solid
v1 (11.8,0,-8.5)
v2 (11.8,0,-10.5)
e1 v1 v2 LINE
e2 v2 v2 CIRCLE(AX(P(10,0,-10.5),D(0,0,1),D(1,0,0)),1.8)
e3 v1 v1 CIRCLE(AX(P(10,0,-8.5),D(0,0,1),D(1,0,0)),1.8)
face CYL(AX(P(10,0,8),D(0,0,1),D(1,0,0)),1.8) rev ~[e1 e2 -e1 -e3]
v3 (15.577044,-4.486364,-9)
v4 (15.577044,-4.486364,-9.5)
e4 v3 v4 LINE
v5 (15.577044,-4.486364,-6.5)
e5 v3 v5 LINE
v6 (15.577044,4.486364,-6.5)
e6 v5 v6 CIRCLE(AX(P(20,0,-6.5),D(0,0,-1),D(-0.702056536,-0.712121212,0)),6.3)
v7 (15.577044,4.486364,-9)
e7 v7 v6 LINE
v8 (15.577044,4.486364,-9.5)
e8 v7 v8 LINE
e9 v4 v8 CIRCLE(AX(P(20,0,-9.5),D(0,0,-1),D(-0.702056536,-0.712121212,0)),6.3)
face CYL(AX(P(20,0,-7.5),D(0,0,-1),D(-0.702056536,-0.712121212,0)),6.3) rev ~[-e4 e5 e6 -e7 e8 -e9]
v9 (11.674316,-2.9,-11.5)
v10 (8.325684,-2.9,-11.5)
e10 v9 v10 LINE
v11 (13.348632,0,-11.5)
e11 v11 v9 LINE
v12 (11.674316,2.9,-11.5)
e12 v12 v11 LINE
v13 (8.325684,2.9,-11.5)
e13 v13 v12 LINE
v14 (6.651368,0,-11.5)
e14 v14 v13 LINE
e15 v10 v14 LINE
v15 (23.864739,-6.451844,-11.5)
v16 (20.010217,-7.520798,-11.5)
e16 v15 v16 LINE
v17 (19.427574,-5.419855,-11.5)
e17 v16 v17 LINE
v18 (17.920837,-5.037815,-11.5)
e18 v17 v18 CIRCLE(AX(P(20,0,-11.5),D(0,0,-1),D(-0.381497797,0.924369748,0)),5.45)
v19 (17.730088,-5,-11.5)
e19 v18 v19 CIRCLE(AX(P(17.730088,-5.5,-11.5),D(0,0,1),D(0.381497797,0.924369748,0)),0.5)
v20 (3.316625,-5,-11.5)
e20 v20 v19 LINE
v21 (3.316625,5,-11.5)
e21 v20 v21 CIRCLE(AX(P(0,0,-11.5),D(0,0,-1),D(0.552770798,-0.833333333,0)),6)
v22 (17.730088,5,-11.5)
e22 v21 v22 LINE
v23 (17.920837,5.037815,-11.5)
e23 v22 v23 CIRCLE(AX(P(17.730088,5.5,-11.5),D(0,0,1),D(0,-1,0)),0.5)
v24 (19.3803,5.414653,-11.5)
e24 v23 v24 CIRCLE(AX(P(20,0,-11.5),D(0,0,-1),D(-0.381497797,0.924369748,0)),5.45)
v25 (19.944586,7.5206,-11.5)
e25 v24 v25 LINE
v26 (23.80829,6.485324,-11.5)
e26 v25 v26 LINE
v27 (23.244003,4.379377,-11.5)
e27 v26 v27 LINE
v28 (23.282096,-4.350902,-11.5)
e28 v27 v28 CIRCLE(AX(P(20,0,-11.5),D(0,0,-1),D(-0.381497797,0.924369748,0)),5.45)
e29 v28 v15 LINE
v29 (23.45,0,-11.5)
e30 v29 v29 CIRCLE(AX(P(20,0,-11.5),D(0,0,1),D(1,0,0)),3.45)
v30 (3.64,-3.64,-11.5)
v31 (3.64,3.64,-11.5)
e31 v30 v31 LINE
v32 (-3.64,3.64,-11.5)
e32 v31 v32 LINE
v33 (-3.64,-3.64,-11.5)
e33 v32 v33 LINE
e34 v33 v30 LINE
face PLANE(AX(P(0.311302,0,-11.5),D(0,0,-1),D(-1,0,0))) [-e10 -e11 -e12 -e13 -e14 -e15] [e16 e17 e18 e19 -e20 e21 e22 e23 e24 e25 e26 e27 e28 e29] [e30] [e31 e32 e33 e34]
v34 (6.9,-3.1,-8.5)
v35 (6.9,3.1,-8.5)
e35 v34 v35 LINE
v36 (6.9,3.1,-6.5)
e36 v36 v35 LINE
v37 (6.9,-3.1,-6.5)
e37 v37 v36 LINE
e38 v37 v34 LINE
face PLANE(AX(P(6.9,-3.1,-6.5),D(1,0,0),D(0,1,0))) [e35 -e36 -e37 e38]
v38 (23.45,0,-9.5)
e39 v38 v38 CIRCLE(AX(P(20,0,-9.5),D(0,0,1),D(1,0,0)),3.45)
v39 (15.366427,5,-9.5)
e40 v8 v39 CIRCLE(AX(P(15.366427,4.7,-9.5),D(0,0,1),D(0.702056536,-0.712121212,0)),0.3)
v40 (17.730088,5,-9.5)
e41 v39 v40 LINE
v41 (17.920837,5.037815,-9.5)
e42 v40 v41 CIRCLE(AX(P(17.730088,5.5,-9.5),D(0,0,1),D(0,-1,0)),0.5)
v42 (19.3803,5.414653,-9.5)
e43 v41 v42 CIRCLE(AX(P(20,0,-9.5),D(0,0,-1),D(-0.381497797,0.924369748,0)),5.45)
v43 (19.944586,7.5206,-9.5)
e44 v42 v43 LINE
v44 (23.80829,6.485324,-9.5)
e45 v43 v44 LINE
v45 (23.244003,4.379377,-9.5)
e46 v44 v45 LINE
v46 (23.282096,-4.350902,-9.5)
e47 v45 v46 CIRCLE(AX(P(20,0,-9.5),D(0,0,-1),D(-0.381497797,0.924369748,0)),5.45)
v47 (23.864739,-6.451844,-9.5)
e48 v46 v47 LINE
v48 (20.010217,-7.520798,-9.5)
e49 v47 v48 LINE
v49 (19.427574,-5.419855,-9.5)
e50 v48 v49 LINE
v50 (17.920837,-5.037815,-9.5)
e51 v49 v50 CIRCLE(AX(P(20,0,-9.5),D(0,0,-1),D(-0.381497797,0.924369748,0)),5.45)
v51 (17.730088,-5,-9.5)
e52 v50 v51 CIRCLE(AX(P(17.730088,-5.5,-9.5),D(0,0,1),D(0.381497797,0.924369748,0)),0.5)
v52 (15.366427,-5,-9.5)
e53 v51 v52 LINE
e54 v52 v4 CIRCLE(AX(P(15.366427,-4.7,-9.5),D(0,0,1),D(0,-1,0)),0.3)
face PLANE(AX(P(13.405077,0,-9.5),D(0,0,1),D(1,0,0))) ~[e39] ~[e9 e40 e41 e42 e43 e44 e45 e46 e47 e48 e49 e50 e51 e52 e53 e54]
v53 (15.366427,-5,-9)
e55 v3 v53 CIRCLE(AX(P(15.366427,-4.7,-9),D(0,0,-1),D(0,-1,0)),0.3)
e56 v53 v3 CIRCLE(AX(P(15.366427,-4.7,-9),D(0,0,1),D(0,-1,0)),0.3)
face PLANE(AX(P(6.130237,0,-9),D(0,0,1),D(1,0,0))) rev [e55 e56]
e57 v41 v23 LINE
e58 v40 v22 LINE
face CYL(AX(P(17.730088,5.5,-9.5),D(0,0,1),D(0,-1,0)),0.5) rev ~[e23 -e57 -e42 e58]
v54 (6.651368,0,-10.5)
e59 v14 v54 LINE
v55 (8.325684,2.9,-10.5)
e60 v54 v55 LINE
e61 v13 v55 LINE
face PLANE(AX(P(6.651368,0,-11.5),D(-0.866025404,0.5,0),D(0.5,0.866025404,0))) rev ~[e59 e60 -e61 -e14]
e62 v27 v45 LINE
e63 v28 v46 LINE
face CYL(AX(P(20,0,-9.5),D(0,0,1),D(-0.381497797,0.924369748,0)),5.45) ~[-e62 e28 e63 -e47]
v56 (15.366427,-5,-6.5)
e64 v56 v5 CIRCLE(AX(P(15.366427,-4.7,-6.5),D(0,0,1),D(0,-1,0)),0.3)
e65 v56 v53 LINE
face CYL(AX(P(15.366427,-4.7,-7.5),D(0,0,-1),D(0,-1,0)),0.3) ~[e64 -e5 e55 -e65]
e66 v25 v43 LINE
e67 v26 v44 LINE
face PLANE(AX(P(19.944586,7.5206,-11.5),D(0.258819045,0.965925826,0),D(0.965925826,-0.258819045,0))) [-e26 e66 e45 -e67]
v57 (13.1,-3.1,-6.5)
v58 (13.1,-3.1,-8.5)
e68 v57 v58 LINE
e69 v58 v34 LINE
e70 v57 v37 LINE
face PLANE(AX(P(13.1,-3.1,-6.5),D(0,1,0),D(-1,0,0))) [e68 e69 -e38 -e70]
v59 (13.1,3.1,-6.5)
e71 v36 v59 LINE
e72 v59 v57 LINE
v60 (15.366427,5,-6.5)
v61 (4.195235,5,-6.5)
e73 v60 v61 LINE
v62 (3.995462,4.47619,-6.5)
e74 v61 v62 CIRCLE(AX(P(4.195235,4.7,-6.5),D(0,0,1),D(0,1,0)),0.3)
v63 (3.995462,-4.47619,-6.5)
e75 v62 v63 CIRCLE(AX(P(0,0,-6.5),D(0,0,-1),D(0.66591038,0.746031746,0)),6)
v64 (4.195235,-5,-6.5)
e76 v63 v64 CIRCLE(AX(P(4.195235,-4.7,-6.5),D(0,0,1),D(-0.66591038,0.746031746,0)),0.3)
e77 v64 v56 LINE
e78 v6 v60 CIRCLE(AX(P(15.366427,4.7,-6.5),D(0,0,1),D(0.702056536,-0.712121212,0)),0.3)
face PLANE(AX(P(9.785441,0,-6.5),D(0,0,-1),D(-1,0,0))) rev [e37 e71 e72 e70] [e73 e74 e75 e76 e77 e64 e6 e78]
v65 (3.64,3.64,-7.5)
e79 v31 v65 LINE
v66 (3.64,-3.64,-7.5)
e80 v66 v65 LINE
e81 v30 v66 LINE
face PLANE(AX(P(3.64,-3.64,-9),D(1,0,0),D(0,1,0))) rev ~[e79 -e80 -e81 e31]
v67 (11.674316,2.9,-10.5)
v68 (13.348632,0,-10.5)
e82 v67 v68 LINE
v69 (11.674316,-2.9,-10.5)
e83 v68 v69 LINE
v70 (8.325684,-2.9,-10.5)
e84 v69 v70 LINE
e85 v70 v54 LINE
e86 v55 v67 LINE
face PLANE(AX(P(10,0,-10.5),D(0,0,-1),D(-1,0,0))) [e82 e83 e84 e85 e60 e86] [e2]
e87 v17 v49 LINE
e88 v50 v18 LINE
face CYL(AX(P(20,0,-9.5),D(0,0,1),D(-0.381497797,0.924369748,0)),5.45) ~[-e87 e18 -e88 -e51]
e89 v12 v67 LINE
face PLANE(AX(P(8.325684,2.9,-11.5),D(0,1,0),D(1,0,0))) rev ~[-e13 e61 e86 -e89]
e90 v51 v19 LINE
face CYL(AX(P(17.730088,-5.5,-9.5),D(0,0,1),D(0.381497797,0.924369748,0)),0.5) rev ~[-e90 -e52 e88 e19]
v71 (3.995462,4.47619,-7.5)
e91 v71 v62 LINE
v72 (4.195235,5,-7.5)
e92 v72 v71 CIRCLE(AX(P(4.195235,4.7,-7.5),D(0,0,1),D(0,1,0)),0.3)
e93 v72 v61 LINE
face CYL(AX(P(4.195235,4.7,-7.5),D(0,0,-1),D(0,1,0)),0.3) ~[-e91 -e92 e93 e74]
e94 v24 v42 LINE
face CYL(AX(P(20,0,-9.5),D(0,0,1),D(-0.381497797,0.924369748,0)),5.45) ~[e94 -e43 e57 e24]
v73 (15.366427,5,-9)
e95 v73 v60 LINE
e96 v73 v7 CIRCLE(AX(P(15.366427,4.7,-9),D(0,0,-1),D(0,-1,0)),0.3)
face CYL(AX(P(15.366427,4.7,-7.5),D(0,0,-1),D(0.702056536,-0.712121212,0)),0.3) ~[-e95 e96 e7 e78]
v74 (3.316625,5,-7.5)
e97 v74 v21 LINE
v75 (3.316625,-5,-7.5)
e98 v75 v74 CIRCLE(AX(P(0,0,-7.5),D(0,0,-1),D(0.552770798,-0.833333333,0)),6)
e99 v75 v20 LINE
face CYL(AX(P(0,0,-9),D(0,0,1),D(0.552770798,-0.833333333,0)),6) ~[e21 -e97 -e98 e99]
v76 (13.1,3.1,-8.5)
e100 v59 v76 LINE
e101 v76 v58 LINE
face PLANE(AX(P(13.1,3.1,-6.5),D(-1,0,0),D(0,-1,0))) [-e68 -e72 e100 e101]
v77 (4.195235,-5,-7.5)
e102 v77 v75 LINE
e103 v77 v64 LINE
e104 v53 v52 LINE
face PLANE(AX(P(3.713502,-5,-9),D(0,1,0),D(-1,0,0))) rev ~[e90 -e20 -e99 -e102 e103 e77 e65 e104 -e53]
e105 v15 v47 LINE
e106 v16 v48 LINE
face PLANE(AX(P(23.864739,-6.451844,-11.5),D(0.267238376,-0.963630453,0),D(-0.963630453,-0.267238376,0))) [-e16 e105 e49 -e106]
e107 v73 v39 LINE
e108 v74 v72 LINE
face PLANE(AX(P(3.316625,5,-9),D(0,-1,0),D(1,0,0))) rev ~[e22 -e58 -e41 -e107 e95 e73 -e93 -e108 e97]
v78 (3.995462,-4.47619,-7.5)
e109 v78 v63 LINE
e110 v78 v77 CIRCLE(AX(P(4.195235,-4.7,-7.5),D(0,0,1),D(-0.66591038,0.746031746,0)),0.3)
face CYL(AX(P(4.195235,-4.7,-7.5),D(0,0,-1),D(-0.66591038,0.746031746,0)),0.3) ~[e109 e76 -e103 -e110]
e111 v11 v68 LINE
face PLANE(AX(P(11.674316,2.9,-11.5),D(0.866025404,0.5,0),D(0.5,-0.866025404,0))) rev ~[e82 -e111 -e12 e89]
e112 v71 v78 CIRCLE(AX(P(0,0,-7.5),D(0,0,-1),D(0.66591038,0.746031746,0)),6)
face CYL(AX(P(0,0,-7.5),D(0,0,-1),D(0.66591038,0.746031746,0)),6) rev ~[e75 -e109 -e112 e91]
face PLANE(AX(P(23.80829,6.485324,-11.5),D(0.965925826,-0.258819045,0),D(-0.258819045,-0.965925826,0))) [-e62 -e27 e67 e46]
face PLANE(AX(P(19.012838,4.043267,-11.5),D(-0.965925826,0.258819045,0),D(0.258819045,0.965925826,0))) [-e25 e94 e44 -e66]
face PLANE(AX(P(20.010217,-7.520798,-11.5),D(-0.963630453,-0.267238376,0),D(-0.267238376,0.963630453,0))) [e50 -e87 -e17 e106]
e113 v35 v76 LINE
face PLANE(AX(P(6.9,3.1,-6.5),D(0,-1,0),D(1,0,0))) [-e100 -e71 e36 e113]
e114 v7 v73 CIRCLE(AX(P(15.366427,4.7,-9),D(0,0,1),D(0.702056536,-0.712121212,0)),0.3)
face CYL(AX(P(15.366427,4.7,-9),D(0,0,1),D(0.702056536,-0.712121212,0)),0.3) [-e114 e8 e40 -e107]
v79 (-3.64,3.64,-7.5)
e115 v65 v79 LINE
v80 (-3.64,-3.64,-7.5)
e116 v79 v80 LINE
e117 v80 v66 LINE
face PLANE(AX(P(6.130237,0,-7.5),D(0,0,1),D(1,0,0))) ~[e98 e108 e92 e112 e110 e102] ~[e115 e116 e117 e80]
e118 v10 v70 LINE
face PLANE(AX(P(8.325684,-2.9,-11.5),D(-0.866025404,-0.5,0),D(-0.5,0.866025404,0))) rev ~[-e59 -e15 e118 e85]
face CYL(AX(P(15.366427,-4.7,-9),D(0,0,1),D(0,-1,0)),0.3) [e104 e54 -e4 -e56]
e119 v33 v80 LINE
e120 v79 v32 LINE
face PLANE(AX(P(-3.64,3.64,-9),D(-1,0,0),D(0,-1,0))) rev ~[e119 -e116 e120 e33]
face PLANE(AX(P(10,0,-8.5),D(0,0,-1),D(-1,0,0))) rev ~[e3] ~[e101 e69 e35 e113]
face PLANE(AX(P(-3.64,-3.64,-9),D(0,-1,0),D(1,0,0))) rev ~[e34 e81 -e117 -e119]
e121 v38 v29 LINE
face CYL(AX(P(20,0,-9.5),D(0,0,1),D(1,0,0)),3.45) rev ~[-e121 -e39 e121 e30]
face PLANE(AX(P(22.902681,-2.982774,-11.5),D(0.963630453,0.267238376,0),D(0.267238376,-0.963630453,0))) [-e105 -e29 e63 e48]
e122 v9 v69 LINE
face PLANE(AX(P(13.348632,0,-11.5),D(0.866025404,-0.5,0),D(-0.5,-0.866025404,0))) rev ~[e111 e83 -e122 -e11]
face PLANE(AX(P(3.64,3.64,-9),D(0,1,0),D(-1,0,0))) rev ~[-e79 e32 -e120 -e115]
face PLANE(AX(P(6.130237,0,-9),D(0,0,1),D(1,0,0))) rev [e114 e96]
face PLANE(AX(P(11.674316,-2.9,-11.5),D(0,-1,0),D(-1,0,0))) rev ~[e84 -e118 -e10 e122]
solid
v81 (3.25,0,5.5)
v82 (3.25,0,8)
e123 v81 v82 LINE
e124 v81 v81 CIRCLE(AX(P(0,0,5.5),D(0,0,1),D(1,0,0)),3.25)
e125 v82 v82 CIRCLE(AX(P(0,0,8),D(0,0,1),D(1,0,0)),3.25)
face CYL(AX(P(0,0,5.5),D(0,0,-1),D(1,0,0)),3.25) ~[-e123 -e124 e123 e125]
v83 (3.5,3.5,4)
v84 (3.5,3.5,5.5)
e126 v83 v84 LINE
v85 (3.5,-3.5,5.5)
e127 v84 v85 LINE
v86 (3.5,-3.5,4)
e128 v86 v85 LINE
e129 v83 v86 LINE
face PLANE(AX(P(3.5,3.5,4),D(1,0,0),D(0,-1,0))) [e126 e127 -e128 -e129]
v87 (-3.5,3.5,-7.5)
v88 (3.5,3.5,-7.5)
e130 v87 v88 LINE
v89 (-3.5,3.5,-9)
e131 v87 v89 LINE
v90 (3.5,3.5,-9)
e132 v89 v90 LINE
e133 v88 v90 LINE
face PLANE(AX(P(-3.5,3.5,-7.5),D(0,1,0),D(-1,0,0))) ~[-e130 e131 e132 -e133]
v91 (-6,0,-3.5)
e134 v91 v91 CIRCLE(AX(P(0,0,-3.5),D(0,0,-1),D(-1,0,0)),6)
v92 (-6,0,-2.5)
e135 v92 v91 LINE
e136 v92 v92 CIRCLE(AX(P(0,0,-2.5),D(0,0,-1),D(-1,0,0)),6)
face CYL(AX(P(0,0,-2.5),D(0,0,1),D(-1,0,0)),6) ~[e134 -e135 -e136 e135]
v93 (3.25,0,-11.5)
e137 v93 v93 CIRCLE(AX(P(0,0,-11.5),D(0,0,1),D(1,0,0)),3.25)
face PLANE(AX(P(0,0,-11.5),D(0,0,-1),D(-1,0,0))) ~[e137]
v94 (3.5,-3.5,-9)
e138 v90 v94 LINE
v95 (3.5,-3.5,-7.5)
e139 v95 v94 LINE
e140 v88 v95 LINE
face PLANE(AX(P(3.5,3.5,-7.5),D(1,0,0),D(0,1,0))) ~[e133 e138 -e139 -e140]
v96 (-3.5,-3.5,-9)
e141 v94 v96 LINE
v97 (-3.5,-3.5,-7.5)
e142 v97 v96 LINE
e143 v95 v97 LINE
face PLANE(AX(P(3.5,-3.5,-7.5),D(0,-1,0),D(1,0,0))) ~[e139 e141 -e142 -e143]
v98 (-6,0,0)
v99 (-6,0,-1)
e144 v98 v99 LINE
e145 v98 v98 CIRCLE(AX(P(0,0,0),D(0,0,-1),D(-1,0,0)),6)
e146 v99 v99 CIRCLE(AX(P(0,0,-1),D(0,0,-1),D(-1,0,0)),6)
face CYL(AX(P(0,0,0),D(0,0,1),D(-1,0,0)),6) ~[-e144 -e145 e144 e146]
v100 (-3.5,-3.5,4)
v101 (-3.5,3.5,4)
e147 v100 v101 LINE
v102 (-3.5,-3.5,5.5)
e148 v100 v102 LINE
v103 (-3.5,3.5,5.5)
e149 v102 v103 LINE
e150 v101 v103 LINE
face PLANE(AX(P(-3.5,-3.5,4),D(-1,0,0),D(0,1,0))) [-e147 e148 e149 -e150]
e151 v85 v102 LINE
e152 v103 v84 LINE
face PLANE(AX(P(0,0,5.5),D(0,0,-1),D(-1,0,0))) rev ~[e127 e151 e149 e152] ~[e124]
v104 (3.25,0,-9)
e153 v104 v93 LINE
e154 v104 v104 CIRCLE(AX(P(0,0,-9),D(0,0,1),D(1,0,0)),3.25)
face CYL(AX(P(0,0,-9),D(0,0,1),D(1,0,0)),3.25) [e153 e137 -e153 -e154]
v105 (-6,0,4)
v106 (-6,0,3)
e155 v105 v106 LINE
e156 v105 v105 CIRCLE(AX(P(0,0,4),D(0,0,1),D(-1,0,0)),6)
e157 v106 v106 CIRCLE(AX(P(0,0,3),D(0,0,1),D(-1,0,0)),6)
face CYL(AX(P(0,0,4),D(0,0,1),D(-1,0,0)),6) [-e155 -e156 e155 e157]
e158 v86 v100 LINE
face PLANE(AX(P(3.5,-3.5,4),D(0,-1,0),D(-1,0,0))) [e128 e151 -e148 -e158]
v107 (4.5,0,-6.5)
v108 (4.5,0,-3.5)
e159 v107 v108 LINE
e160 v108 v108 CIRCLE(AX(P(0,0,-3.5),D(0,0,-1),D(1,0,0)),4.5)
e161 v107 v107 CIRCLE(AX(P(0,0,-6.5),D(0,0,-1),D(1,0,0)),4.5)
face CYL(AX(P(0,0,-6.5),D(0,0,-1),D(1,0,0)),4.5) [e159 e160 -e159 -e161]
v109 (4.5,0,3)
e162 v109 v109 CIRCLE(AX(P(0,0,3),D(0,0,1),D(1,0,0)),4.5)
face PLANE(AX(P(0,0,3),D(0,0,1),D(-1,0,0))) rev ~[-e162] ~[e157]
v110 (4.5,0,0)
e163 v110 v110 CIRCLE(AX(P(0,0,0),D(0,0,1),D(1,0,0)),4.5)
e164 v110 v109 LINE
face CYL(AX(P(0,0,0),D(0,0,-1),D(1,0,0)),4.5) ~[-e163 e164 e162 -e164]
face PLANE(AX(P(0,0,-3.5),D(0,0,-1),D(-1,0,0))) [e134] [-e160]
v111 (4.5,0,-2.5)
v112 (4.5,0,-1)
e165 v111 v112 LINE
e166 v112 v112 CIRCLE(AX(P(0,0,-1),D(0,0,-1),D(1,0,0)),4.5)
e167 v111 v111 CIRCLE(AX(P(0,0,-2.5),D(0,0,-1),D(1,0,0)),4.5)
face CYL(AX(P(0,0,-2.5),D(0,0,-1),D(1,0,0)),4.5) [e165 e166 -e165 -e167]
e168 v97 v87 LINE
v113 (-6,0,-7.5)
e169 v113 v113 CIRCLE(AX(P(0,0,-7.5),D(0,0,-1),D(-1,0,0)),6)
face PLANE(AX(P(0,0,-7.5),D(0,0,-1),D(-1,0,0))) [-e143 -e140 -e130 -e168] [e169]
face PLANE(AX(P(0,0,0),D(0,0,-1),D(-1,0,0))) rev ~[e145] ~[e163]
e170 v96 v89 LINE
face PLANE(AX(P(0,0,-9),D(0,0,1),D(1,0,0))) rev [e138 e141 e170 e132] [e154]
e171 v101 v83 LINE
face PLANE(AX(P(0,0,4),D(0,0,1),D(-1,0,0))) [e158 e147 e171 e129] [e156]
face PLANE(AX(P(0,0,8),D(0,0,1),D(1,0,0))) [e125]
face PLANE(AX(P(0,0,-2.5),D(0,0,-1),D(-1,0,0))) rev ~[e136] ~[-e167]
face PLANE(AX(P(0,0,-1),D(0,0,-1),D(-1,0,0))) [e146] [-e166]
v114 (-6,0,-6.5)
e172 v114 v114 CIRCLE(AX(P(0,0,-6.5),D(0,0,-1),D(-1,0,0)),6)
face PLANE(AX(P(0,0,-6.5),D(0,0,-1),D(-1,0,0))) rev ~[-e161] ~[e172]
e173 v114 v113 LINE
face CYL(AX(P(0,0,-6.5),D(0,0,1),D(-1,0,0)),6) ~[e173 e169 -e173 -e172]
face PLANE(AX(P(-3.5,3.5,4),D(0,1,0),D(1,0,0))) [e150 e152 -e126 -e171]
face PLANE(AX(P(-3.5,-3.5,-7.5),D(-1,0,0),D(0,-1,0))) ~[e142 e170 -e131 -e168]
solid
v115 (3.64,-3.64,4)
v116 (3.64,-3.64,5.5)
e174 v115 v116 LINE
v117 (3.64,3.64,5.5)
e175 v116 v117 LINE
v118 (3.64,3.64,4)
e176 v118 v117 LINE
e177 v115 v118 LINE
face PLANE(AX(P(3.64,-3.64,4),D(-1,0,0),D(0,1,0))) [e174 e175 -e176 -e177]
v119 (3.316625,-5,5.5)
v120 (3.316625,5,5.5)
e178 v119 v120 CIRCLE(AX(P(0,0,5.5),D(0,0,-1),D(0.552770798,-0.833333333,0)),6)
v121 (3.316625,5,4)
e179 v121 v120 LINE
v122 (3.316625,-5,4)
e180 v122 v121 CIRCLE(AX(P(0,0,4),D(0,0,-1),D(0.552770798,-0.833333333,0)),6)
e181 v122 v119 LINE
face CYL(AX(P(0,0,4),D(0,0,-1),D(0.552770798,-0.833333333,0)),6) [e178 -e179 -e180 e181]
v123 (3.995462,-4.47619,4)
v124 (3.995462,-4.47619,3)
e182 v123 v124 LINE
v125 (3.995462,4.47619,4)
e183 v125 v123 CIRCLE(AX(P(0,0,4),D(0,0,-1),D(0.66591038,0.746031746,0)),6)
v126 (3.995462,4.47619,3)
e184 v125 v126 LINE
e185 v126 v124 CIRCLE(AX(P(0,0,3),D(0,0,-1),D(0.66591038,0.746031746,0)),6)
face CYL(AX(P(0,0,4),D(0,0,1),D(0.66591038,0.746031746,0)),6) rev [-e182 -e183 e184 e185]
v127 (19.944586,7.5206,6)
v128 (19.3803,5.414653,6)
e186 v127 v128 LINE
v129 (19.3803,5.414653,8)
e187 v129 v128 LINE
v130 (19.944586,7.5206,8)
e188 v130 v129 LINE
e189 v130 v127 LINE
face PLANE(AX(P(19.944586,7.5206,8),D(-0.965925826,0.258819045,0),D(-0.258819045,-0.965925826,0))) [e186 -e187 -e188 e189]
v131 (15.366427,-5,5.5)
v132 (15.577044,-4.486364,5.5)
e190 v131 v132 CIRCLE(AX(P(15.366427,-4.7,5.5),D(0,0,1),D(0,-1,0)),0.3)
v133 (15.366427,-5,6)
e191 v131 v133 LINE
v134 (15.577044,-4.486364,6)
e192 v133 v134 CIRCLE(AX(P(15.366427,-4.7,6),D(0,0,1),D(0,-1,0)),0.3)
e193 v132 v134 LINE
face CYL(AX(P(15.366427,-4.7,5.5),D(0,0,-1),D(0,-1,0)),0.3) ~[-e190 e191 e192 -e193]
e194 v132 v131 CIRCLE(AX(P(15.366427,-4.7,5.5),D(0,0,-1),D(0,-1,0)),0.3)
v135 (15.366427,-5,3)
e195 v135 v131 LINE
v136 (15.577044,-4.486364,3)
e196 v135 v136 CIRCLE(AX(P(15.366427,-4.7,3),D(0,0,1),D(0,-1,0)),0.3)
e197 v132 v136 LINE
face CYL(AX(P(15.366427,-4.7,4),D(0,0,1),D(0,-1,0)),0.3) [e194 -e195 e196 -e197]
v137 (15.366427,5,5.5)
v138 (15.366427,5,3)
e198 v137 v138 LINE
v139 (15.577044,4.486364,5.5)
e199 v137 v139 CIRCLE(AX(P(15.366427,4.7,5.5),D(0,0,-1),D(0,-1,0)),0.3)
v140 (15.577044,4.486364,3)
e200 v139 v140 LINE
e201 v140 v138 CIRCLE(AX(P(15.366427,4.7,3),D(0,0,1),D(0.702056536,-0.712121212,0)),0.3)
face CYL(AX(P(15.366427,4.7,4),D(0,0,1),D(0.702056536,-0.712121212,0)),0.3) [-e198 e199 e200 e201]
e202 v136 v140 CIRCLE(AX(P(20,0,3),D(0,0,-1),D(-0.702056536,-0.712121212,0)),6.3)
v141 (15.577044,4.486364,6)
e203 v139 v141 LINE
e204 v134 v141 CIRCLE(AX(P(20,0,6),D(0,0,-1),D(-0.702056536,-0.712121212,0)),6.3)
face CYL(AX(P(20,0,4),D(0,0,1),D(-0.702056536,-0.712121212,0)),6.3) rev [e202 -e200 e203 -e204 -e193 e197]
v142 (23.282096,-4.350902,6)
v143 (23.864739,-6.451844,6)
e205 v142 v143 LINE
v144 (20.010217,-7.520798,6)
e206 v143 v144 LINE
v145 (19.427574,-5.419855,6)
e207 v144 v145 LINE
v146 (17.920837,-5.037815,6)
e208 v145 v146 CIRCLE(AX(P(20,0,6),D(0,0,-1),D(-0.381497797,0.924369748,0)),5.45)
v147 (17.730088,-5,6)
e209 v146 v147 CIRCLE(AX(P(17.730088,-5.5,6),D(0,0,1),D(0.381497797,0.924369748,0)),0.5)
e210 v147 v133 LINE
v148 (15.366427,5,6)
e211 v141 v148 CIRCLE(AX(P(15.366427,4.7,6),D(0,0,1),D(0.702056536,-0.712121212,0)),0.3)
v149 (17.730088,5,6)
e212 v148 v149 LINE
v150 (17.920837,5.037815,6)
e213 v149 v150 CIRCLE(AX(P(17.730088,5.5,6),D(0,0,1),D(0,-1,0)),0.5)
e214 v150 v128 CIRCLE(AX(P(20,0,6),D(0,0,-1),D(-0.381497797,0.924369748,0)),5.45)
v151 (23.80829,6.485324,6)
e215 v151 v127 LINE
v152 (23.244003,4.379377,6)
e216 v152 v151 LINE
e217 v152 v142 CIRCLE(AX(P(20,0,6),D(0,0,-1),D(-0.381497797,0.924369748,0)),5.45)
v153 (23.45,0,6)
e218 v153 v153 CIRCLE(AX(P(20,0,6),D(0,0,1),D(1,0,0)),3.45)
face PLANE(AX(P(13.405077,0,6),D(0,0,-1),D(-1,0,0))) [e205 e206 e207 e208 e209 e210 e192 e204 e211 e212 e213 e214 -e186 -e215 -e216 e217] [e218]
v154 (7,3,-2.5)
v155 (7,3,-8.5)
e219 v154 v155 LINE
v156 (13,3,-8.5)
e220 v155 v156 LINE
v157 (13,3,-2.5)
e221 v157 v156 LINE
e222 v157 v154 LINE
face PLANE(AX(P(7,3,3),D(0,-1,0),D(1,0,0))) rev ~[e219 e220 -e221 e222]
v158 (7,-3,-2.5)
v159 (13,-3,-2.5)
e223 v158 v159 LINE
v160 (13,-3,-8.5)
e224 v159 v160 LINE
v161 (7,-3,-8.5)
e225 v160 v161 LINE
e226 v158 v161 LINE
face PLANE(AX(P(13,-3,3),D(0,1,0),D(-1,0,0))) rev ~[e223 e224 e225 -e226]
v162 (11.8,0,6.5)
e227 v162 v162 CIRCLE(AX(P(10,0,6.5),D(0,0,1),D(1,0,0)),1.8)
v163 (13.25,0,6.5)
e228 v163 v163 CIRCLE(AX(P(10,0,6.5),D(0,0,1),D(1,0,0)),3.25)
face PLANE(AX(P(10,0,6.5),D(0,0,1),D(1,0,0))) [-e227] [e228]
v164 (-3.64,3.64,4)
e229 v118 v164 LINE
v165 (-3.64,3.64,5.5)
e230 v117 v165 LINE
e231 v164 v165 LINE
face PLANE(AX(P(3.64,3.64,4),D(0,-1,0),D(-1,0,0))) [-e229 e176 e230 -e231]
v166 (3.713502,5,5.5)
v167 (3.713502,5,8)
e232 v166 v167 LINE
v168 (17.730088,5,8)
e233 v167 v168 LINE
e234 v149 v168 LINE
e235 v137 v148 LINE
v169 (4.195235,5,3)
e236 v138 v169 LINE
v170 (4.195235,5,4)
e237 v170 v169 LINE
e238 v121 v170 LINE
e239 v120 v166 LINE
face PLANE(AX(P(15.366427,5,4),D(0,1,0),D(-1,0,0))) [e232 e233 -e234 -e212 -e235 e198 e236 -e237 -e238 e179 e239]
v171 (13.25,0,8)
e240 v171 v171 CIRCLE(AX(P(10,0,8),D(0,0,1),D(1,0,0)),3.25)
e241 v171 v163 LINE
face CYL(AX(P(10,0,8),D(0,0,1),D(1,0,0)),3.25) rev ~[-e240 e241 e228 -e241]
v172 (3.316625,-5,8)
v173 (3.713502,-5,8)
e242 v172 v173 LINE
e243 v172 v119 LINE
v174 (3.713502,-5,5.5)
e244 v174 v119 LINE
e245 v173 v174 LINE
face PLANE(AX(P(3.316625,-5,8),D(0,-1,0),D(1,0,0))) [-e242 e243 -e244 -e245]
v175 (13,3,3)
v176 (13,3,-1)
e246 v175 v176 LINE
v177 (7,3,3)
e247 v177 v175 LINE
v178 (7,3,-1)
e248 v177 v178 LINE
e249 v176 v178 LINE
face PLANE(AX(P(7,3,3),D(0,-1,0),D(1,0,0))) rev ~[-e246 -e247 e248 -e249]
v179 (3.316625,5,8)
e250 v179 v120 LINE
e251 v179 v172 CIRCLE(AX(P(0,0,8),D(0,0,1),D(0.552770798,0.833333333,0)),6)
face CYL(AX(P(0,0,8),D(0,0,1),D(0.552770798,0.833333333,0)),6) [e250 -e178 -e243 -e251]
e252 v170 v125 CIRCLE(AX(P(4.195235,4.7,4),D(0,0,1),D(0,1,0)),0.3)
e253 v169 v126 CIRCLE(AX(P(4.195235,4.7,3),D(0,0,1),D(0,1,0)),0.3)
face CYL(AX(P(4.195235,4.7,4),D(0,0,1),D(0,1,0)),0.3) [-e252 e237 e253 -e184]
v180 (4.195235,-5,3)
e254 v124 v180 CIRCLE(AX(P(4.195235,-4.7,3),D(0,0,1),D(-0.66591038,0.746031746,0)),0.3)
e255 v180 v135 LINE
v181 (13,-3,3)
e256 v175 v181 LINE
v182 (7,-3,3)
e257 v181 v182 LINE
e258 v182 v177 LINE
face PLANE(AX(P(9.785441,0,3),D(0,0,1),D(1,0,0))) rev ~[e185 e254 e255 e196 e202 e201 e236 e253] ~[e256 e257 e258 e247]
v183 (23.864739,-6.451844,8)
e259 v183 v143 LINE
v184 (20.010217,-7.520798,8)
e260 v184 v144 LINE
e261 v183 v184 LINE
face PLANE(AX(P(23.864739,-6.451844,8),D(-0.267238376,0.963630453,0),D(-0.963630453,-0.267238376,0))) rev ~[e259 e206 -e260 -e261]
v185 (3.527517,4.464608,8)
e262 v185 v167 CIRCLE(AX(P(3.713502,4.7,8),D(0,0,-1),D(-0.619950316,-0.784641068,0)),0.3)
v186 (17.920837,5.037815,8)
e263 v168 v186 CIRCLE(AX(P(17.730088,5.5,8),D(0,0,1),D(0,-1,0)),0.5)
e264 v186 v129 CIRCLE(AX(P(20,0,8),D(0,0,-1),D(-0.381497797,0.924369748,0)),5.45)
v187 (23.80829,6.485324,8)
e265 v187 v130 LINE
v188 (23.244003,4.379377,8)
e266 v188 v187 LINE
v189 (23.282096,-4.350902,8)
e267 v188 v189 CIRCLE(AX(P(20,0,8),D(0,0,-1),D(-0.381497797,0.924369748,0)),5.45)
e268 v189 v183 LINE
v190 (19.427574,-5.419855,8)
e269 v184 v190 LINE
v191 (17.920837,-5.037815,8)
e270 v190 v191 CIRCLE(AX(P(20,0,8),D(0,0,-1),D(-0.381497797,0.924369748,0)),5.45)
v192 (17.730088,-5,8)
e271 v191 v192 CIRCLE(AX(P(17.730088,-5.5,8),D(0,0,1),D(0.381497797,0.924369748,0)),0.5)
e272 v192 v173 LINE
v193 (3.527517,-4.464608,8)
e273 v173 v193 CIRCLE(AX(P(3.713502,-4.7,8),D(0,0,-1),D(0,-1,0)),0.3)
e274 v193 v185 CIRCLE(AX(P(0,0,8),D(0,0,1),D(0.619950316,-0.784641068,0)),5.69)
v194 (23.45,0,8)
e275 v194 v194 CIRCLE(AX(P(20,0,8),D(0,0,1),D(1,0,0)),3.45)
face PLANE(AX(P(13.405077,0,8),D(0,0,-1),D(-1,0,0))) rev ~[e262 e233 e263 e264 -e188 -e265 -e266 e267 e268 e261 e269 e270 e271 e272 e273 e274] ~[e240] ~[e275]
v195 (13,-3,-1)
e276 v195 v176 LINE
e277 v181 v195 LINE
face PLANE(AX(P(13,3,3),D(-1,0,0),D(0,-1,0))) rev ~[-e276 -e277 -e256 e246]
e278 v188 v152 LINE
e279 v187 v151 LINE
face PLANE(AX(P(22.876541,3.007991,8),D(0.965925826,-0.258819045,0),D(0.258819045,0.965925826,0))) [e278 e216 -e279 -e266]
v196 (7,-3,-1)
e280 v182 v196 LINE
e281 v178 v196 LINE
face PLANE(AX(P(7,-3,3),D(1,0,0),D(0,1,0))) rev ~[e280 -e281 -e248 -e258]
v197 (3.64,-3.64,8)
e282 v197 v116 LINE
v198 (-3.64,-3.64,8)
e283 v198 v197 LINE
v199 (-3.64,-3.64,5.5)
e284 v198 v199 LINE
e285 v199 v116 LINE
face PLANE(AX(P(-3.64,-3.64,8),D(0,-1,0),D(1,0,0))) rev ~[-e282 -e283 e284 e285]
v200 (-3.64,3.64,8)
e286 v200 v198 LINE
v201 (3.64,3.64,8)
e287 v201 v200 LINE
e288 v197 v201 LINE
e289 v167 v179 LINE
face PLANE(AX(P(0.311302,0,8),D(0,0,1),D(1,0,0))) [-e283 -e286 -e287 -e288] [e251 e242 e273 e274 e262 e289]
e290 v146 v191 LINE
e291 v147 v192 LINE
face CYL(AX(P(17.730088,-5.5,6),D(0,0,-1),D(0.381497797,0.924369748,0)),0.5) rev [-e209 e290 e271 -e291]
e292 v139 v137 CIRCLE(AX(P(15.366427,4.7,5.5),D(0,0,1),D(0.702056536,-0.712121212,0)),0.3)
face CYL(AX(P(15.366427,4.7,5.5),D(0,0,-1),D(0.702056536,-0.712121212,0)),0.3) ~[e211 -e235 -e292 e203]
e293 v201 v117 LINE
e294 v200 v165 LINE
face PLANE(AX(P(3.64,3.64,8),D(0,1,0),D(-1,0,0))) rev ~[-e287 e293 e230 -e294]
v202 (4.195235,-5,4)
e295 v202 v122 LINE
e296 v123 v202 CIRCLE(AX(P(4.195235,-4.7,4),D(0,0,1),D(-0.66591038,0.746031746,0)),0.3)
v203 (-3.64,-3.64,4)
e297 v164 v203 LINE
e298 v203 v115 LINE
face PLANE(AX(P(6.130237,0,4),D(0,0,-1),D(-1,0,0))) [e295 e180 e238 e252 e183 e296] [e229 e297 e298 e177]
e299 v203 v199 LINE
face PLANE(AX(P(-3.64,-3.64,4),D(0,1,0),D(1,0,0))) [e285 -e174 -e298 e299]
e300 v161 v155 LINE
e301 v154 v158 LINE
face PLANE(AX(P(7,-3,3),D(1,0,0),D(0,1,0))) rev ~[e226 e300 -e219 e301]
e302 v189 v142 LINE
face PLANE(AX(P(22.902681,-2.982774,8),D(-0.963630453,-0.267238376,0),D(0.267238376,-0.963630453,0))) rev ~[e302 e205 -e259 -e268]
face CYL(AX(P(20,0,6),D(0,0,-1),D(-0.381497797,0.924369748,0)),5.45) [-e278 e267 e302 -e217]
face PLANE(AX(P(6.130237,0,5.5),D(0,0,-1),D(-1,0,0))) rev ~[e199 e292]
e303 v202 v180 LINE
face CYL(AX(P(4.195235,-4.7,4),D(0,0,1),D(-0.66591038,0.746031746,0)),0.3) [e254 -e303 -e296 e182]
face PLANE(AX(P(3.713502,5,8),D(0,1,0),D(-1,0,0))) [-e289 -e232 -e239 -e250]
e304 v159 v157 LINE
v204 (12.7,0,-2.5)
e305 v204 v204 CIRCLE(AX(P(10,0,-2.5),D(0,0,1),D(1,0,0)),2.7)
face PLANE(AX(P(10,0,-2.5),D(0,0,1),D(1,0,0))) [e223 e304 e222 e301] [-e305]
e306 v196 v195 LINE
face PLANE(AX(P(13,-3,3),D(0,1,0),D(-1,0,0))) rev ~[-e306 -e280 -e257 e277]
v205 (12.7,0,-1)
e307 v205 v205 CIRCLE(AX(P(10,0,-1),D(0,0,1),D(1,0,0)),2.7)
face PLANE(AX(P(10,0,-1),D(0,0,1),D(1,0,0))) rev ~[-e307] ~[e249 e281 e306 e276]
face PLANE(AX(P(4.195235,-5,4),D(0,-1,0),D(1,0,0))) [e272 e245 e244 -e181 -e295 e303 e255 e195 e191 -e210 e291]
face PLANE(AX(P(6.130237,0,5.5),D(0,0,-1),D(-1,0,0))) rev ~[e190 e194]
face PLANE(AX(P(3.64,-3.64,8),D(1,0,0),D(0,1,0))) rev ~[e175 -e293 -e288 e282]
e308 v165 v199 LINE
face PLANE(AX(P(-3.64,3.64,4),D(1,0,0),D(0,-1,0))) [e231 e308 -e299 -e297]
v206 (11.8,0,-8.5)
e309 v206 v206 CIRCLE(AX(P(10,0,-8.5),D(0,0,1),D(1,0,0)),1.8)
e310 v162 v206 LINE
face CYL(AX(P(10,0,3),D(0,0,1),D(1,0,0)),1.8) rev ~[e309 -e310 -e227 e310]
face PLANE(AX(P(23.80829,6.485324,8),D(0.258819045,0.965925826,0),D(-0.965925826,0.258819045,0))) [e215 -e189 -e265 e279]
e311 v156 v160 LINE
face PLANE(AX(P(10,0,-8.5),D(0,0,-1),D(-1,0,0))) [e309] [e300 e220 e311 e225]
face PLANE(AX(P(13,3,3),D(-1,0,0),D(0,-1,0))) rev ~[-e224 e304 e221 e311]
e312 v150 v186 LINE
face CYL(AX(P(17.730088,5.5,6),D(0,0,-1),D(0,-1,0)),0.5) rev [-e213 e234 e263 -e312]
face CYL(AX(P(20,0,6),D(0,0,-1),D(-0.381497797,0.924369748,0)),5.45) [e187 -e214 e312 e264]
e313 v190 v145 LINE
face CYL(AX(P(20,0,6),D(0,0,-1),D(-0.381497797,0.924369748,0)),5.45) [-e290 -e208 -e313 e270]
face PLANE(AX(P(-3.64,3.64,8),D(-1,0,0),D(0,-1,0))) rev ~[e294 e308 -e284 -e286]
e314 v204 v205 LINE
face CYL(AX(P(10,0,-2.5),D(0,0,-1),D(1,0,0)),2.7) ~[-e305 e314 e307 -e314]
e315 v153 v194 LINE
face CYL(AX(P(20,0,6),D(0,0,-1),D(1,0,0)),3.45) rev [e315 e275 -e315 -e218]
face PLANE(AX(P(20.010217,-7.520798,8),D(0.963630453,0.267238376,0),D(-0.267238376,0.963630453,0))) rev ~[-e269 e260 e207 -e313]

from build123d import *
from build123d.topology import SkipClean

# Parameters (mm, degrees)
SKETCH_1_R               = 4.5
EXTRUDE_1_DEPTH          = 3
SKETCH_2_R               = 6
EXTRUDE_2_DEPTH          = 1
EXTRUDE_START            = 1.5
SKETCH_3_R               = 4.5
EXTRUDE_3_DEPTH          = 1.5
SKETCH_4_R               = 6.000000000000001
EXTRUDE_4_DEPTH          = 1
EXTRUDE_START_2          = 3
SKETCH_5_R               = 4.5
EXTRUDE_5_DEPTH          = 3
SKETCH_6_R               = 6.000000000000001
EXTRUDE_6_DEPTH          = 1
EXTRUDE_START_3          = 1
SKETCH_7_R               = 6.000000000000001
EXTRUDE_7_DEPTH          = 1
EXTRUDE_10_DEPTH         = 1.5
SKETCH_11_R              = 3.25
EXTRUDE_11_DEPTH         = 2.5
EXTRUDE_12_DEPTH         = 1.5
EXTRUDE_13_DEPTH         = 0.5
FILLET_9_R               = 0.3
SKETCH_14_R              = 3.450000000000003
EXTRUDE_14_DEPTH         = 2
EXTRUDE_15_DEPTH         = 1
SKETCH_16_R              = 1.799999999999999
CUT_EXTRUDE_1_DEPTH      = 33.61828474950821
CUT_EXTRUDE_2_DEPTH      = 2
EXTRUDE_16_DEPTH         = 11.5
SKETCH_19_R              = 1.799999999999999
CUT_EXTRUDE_3_DEPTH      = 30.89903844607716
CUT_EXTRUDE_4_DEPTH      = 0.75
CUT_EXTRUDE_4_DEPTH_BACK = 0.75
SKETCH_20_R              = 2.6999999999999993
SKETCH_21_R              = 3.2500000000000027
CUT_EXTRUDE_5_DEPTH      = 1.5
CUT_EXTRUDE_6_DEPTH      = 1
EXTRUDE_17_DEPTH         = 2
EXTRUDE_18_DEPTH         = 2
EXTRUDE_19_DEPTH         = 2.5
EXTRUDE_START_4          = 2.5
EXTRUDE_20_DEPTH         = 2.5


with BuildPart() as part:
    # ｽｹｯﾁ1 → ﾎﾞｽ - 押し出し1 (new body)
    with BuildSketch(Plane.XY):
        Circle(SKETCH_1_R)
    extrude(amount=EXTRUDE_1_DEPTH)

    # ｽｹｯﾁ2 → ﾎﾞｽ - 押し出し2 (add)
    with BuildSketch(Plane(origin=(0, 0, 0), x_dir=(-1, 0, 0), z_dir=(0, 0, -1))):
        Circle(SKETCH_2_R)
    extrude(amount=EXTRUDE_2_DEPTH)

    # ｽｹｯﾁ3 → ﾎﾞｽ - 押し出し3 (add)
    with BuildSketch(Plane(origin=(0, 0, -1), x_dir=(-1, 0, 0), z_dir=(0, 0, -1)).offset(EXTRUDE_START)):
        with Locations(Location((0, 0, 0), (0, 0, 180))):
            Circle(SKETCH_3_R)
    extrude(amount=-EXTRUDE_3_DEPTH)

    # ｽｹｯﾁ4 → ﾎﾞｽ - 押し出し4 (add)
    with BuildSketch(Plane(origin=(0, 0, -2.5), x_dir=(-1, 0, 0), z_dir=(0, 0, -1))):
        Circle(SKETCH_4_R)
    extrude(amount=EXTRUDE_4_DEPTH)

    # ｽｹｯﾁ5 → ﾎﾞｽ - 押し出し5 (add)
    with BuildSketch(Plane(origin=(0, 0, -3.5), x_dir=(-1, 0, 0), z_dir=(0, 0, -1)).offset(EXTRUDE_START_2)):
        with Locations(Location((0, 0, 0), (0, 0, 180))):
            Circle(SKETCH_5_R)
    extrude(amount=-EXTRUDE_5_DEPTH)

    # ｽｹｯﾁ6 → ﾎﾞｽ - 押し出し6 (add)
    with BuildSketch(Plane(origin=(0, 0, -6.500000000000001), x_dir=(-1, 0, 0), z_dir=(0, 0, -1))):
        Circle(SKETCH_6_R)
    extrude(amount=EXTRUDE_6_DEPTH)

    # ｽｹｯﾁ7 → ﾎﾞｽ - 押し出し7 (add)
    with BuildSketch(Plane.XY.offset(3).offset(EXTRUDE_START_3)):
        with Locations(Location((0, 0, 0), (0, 0, 180))):
            Circle(SKETCH_7_R)
    extrude(amount=-EXTRUDE_7_DEPTH)

    # ｽｹｯﾁ10 → ﾎﾞｽ - 押し出し10 (add)
    with BuildSketch(Plane.XY.offset(4)):
        Polygon((3.4999999999999996, -3.5), (-3.5000000000000004, -3.500000000000001), (-3.5000000000000004, 3.5000000000000004), (3.4999999999999996, 3.5), align=None)
    extrude_10 = extrude(amount=EXTRUDE_10_DEPTH)

    # ｽｹｯﾁ11 → ﾎﾞｽ - 押し出し11 (add)
    with BuildSketch(Plane.XY.offset(5.5)):
        Circle(SKETCH_11_R)
    extrude_11 = extrude(amount=EXTRUDE_11_DEPTH)

    # ﾐﾗｰ1: ﾎﾞｽ - 押し出し10, ﾎﾞｽ - 押し出し11 across plane
    add(extrude_10.mirror(Plane.XY.offset(-1.7500000000000002)))
    add(extrude_11.mirror(Plane.XY.offset(-1.7500000000000002)))


with BuildPart() as body_2:
    # ｽｹｯﾁ12 → ﾎﾞｽ - 押し出し12 (new body)
    with BuildSketch(Plane.XY.offset(4)):
        with BuildLine():
            Line((3.3166247903554016, 5), (16.167246420652642, 5))
            ThreePointArc((16.167246420652642, 5), (13.700000000000001, 3.57e-15), (16.16724642065264, -5))
            Line((16.16724642065264, -5), (3.3166247903553985, -5.000000000000003))
            ThreePointArc((3.3166247903553985, -5.000000000000003), (-6.000000000000001, 7.3e-16), (3.3166247903554016, 5))
        make_face()
        Polygon((3.6399999999999997, -3.64), (3.6399999999999997, 3.64), (-3.6400000000000006, 3.6400000000000006), (-3.6400000000000006, -3.640000000000001), align=None, mode=Mode.SUBTRACT)
    extrude(amount=EXTRUDE_12_DEPTH)

    # ｽｹｯﾁ13 → ﾎﾞｽ - 押し出し13 (add)
    with BuildSketch(Plane.XY.offset(5.5)):
        with BuildLine():
            Line((15.366426864718767, 5.000000000000001), (3.71350238992787, 4.999999999999999))
            ThreePointArc((3.71350238992787, 4.999999999999999), (3.4301142319534543, 4.798443648448575), (3.5275172952737197, 4.464607679465777))
            ThreePointArc((3.5275172952737197, 4.464607679465777), (5.69, 3.16e-15), (3.527517295273725, -4.464607679465773))
            ThreePointArc((3.527517295273725, -4.464607679465773), (3.4301142319534588, -4.798443648448569), (3.713502389927875, -4.9999999999999964))
            Line((3.713502389927875, -4.9999999999999964), (15.366426864718758, -4.999999999999996))
            ThreePointArc((15.366426864718758, -4.999999999999996), (15.643997494550977, -4.813818036595895), (15.57704382541336, -4.486363636363631))
            ThreePointArc((15.57704382541336, -4.486363636363631), (13.7, 6.37e-15), (15.577043825413366, 4.486363636363639))
            ThreePointArc((15.577043825413366, 4.486363636363639), (15.643997494550984, 4.813818036595901), (15.366426864718767, 5.000000000000001))
        make_face()
    extrude(amount=EXTRUDE_13_DEPTH)

    # ﾌｨﾚｯﾄ9
    fillet_9_edges = [body_2.edges().sort_by_distance(p)[0] for p in [
        (16.16724642065264, -5.000000000000001, 4.75),
        (16.167246420652642, 5, 4.75),
    ]]
    fillet(fillet_9_edges, radius=FILLET_9_R)

    # ｽｹｯﾁ14 → ﾎﾞｽ - 押し出し14 (add)
    with BuildSketch(Plane.XY.offset(6)):
        with BuildLine():
            Line((3.71350238992787, 5), (17.73008810743677, 5))
            ThreePointArc((17.73008810743677, 5), (17.827318665969592, 5.00954488636839), (17.920837005971492, 5.03781512605042))
            ThreePointArc((17.920837005971492, 5.03781512605042), (25.45, 2.42e-15), (17.920837005971496, -5.037815126050422))
            ThreePointArc((17.920837005971496, -5.037815126050422), (17.827318665969596, -5.009544886368393), (17.730088107436774, -5.000000000000003))
            Line((17.730088107436774, -5.000000000000003), (3.713502389927875, -5.000000000000003))
            ThreePointArc((3.713502389927875, -5.000000000000003), (3.430114231953458, -4.79844364844857), (3.5275172952737246, -4.4646076794657725))
            ThreePointArc((3.5275172952737246, -4.4646076794657725), (5.69, 3.16e-15), (3.52751729527372, 4.464607679465777))
            ThreePointArc((3.52751729527372, 4.464607679465777), (3.4301142319534534, 4.798443648448575), (3.71350238992787, 5))
        make_face()
        with Locations((20, 0)):
            Circle(SKETCH_14_R, mode=Mode.SUBTRACT)
    extrude(amount=EXTRUDE_14_DEPTH)

    # ｽｹｯﾁ15 → ﾎﾞｽ - 押し出し15 (add)
    with BuildSketch(Plane(origin=(0, 0, 4), x_dir=(-1, 0, 0), z_dir=(0, 0, -1))):
        with BuildLine():
            Line((-15.366426864718765, 5), (-4.195235392680607, 5.000000000000001))
            ThreePointArc((-4.195235392680607, 5.000000000000001), (-3.9149294373899135, 4.806904496764971), (-3.9954622787434353, 4.476190476190477))
            ThreePointArc((-3.9954622787434353, 4.476190476190477), (-6.000000000000001, 7.3e-16), (-3.9954622787434353, -4.476190476190477))
            ThreePointArc((-3.9954622787434353, -4.476190476190477), (-3.9149294373899135, -4.806904496764971), (-4.195235392680607, -5.000000000000001))
            Line((-4.195235392680607, -5.000000000000001), (-15.366426864718763, -5))
            ThreePointArc((-15.366426864718763, -5), (-15.643997494550984, -4.813818036595896), (-15.577043825413359, -4.48636363636363))
            ThreePointArc((-15.577043825413359, -4.48636363636363), (-13.700000000000001, 4.2e-15), (-15.577043825413364, 4.486363636363636))
            ThreePointArc((-15.577043825413364, 4.486363636363636), (-15.643997494550984, 4.813818036595898), (-15.366426864718765, 5))
        make_face()
    extrude(amount=EXTRUDE_15_DEPTH)


with BuildPart() as body_3:
    # ﾐﾗｰ2: mirrored copy
    add(body_2.part.mirror(Plane.XY.offset(-1.7500000000000002)))


with BuildPart() as cut_extrude_1_tool:
    # ｽｹｯﾁ16 → ｶｯﾄ - 押し出し1 (new, through all)
    with BuildSketch(Plane.XY.offset(8)):
        with Locations((10, 0)):
            Circle(SKETCH_16_R)
    extrude(amount=-CUT_EXTRUDE_1_DEPTH)


with BuildPart() as body_2_1:
    add(body_2.part)

    # ｶｯﾄ - 押し出し1: cut by cut_extrude_1_tool
    add(cut_extrude_1_tool.part, mode=Mode.SUBTRACT)

    # ｽｹｯﾁ18 → ﾎﾞｽ - 押し出し16 (add)
    with BuildSketch(Plane(origin=(0, 0, 3), x_dir=(-1, 0, 0), z_dir=(0, 0, -1))):
        Polygon((-7.000000000000002, 2.9999999999999996), (-13.000000000000002, 2.9999999999999987), (-13.000000000000002, -2.9999999999999996), (-7.000000000000002, -2.999999999999999), align=None)
    extrude(amount=EXTRUDE_16_DEPTH)

    # ｽｹｯﾁ19 → ｶｯﾄ - 押し出し3 (cut, through all)
    with BuildSketch(Plane.XY.offset(3)):
        with Locations((10, 0)):
            Circle(SKETCH_19_R)
    extrude(amount=-CUT_EXTRUDE_3_DEPTH, mode=Mode.SUBTRACT)

    # ｽｹｯﾁ20 → ｶｯﾄ - 押し出し4 (cut, two sides: drawn at the far end of the back side and taken through both)
    with BuildSketch(Plane.XY.offset(-1.7500000000000002).offset(-CUT_EXTRUDE_4_DEPTH_BACK)):
        Polygon((13.000000000000002, 2.9999999999999987), (7.000000000000002, 2.9999999999999996), (7.000000000000002, -2.999999999999999), (13.000000000000002, -2.9999999999999996), align=None)
        with Locations((10, 0)):
            Circle(SKETCH_20_R, mode=Mode.SUBTRACT)
    extrude(amount=CUT_EXTRUDE_4_DEPTH + CUT_EXTRUDE_4_DEPTH_BACK, mode=Mode.SUBTRACT)

    # ｽｹｯﾁ21 → ｶｯﾄ - 押し出し5 (cut)
    with BuildSketch(Plane.XY.offset(8)):
        with Locations((10, 0)):
            Circle(SKETCH_21_R)
    extrude(amount=-CUT_EXTRUDE_5_DEPTH, mode=Mode.SUBTRACT)

    # ｽｹｯﾁ23 → ﾎﾞｽ - 押し出し17 (add)
    with BuildSketch(Plane.XY.offset(8)):
        Polygon((19.01283786204607, 4.043267356160141), (22.87654116720234, 3.007991175750056), (23.808289729571417, 6.485324150390701), (19.944586424415146, 7.520600330800787), align=None)
        Polygon((20.01021732015007, -7.520797537919029), (19.048159166268373, -4.051727906367982), (22.90268097910287, -2.982774402054983), (23.86473913298457, -6.451844033606031), align=None)
    extrude(amount=-EXTRUDE_17_DEPTH)

    # ｽｹｯﾁ26 → ﾎﾞｽ - 押し出し20 (add)
    with SkipClean():  # the faces are left unmerged after this step: merging them gives an invalid solid
        with BuildSketch(Plane.XY.offset(5.5).offset(EXTRUDE_START_4)):
            with BuildLine():
                Line((3.3166247903554025, -5), (3.713502389927875, -4.999999999999999))
                ThreePointArc((3.713502389927875, -4.999999999999999), (3.430114231953457, -4.798443648448569), (3.527517295273725, -4.464607679465772))
                ThreePointArc((3.527517295273725, -4.464607679465772), (5.6899999999999995, 3.79e-15), (3.52751729527372, 4.464607679465777))
                ThreePointArc((3.52751729527372, 4.464607679465777), (3.4301142319534526, 4.798443648448575), (3.71350238992787, 5.000000000000001))
                Line((3.71350238992787, 5.000000000000001), (3.316624790355401, 5.000000000000001))
                ThreePointArc((3.316624790355401, 5.000000000000001), (-6.000000000000002, 7.3e-16), (3.3166247903554025, -5))
            make_face()
            Polygon((-3.6400000000000006, 3.6400000000000006), (-3.6400000000000006, -3.640000000000001), (3.6399999999999997, -3.64), (3.6399999999999997, 3.64), align=None, mode=Mode.SUBTRACT)
        extrude(amount=-EXTRUDE_20_DEPTH)


with BuildPart() as body_3_1:
    add(body_3.part)

    # ｶｯﾄ - 押し出し1: cut by cut_extrude_1_tool
    add(cut_extrude_1_tool.part, mode=Mode.SUBTRACT)

    # ｽｹｯﾁ17 → ｶｯﾄ - 押し出し2 (cut)
    with BuildSketch(Plane.XY.offset(-6.500000000000001)):
        Polygon((13.100000000000001, -3.0999999999999996), (6.900000000000001, -3.1000000000000005), (6.900000000000001, 3.0999999999999996), (13.100000000000001, 3.1000000000000005), align=None)
    extrude(amount=-CUT_EXTRUDE_2_DEPTH, mode=Mode.SUBTRACT)

    # ｽｹｯﾁ22 → ｶｯﾄ - 押し出し6 (cut)
    with BuildSketch(Plane(origin=(0, 0, -11.5), x_dir=(-1, 0, 0), z_dir=(0, 0, -1))):
        Polygon((-11.674315780649914, 2.8999999999999995), (-13.348631561299829, 1e-17), (-11.674315780649913, -2.900000000000001), (-8.325684219350087, -2.9000000000000004), (-6.651368438700171, -8.7e-16), (-8.325684219350087, 2.9), align=None)
    extrude(amount=-CUT_EXTRUDE_6_DEPTH, mode=Mode.SUBTRACT)

    # ｽｹｯﾁ24 → ﾎﾞｽ - 押し出し18 (add)
    with BuildSketch(Plane(origin=(0, 0, -11.5), x_dir=(-1, 0, 0), z_dir=(0, 0, -1))):
        Polygon((-22.87654116720234, 3.007991175750056), (-19.01283786204607, 4.043267356160141), (-19.944586424415146, 7.520600330800787), (-23.808289729571417, 6.485324150390701), align=None)
        Polygon((-20.01021732015007, -7.520797537919029), (-19.048159166268373, -4.051727906367982), (-22.90268097910287, -2.982774402054983), (-23.86473913298457, -6.451844033606031), align=None)
    extrude(amount=-EXTRUDE_18_DEPTH)

    # ｽｹｯﾁ25 → ﾎﾞｽ - 押し出し19 (add)
    with BuildSketch(Plane(origin=(0, 0, -9.000000000000002), x_dir=(-1, 0, 0), z_dir=(0, 0, -1))):
        with BuildLine():
            Line((-3.713502389927875, -4.999999999999999), (-3.3166247903554025, -5))
            ThreePointArc((-3.3166247903554025, -5), (6.000000000000002, -2.66e-15), (-3.3166247903554016, 5))
            Line((-3.3166247903554016, 5), (-3.71350238992787, 5.000000000000001))
            ThreePointArc((-3.71350238992787, 5.000000000000001), (-3.430114231953452, 4.798443648448575), (-3.52751729527372, 4.464607679465777))
            ThreePointArc((-3.52751729527372, 4.464607679465777), (-5.690000000000001, 3.22e-15), (-3.5275172952737224, -4.46460767946577))
            ThreePointArc((-3.5275172952737224, -4.46460767946577), (-3.430114231953454, -4.798443648448571), (-3.713502389927875, -4.999999999999999))
        make_face()
        Polygon((3.6400000000000006, 3.6400000000000006), (3.6400000000000006, -3.640000000000001), (-3.6399999999999997, -3.64), (-3.6399999999999997, 3.64), align=None, mode=Mode.SUBTRACT)
    extrude(amount=EXTRUDE_19_DEPTH)


solid = Compound([part.part, body_2_1.part, body_3_1.part])
